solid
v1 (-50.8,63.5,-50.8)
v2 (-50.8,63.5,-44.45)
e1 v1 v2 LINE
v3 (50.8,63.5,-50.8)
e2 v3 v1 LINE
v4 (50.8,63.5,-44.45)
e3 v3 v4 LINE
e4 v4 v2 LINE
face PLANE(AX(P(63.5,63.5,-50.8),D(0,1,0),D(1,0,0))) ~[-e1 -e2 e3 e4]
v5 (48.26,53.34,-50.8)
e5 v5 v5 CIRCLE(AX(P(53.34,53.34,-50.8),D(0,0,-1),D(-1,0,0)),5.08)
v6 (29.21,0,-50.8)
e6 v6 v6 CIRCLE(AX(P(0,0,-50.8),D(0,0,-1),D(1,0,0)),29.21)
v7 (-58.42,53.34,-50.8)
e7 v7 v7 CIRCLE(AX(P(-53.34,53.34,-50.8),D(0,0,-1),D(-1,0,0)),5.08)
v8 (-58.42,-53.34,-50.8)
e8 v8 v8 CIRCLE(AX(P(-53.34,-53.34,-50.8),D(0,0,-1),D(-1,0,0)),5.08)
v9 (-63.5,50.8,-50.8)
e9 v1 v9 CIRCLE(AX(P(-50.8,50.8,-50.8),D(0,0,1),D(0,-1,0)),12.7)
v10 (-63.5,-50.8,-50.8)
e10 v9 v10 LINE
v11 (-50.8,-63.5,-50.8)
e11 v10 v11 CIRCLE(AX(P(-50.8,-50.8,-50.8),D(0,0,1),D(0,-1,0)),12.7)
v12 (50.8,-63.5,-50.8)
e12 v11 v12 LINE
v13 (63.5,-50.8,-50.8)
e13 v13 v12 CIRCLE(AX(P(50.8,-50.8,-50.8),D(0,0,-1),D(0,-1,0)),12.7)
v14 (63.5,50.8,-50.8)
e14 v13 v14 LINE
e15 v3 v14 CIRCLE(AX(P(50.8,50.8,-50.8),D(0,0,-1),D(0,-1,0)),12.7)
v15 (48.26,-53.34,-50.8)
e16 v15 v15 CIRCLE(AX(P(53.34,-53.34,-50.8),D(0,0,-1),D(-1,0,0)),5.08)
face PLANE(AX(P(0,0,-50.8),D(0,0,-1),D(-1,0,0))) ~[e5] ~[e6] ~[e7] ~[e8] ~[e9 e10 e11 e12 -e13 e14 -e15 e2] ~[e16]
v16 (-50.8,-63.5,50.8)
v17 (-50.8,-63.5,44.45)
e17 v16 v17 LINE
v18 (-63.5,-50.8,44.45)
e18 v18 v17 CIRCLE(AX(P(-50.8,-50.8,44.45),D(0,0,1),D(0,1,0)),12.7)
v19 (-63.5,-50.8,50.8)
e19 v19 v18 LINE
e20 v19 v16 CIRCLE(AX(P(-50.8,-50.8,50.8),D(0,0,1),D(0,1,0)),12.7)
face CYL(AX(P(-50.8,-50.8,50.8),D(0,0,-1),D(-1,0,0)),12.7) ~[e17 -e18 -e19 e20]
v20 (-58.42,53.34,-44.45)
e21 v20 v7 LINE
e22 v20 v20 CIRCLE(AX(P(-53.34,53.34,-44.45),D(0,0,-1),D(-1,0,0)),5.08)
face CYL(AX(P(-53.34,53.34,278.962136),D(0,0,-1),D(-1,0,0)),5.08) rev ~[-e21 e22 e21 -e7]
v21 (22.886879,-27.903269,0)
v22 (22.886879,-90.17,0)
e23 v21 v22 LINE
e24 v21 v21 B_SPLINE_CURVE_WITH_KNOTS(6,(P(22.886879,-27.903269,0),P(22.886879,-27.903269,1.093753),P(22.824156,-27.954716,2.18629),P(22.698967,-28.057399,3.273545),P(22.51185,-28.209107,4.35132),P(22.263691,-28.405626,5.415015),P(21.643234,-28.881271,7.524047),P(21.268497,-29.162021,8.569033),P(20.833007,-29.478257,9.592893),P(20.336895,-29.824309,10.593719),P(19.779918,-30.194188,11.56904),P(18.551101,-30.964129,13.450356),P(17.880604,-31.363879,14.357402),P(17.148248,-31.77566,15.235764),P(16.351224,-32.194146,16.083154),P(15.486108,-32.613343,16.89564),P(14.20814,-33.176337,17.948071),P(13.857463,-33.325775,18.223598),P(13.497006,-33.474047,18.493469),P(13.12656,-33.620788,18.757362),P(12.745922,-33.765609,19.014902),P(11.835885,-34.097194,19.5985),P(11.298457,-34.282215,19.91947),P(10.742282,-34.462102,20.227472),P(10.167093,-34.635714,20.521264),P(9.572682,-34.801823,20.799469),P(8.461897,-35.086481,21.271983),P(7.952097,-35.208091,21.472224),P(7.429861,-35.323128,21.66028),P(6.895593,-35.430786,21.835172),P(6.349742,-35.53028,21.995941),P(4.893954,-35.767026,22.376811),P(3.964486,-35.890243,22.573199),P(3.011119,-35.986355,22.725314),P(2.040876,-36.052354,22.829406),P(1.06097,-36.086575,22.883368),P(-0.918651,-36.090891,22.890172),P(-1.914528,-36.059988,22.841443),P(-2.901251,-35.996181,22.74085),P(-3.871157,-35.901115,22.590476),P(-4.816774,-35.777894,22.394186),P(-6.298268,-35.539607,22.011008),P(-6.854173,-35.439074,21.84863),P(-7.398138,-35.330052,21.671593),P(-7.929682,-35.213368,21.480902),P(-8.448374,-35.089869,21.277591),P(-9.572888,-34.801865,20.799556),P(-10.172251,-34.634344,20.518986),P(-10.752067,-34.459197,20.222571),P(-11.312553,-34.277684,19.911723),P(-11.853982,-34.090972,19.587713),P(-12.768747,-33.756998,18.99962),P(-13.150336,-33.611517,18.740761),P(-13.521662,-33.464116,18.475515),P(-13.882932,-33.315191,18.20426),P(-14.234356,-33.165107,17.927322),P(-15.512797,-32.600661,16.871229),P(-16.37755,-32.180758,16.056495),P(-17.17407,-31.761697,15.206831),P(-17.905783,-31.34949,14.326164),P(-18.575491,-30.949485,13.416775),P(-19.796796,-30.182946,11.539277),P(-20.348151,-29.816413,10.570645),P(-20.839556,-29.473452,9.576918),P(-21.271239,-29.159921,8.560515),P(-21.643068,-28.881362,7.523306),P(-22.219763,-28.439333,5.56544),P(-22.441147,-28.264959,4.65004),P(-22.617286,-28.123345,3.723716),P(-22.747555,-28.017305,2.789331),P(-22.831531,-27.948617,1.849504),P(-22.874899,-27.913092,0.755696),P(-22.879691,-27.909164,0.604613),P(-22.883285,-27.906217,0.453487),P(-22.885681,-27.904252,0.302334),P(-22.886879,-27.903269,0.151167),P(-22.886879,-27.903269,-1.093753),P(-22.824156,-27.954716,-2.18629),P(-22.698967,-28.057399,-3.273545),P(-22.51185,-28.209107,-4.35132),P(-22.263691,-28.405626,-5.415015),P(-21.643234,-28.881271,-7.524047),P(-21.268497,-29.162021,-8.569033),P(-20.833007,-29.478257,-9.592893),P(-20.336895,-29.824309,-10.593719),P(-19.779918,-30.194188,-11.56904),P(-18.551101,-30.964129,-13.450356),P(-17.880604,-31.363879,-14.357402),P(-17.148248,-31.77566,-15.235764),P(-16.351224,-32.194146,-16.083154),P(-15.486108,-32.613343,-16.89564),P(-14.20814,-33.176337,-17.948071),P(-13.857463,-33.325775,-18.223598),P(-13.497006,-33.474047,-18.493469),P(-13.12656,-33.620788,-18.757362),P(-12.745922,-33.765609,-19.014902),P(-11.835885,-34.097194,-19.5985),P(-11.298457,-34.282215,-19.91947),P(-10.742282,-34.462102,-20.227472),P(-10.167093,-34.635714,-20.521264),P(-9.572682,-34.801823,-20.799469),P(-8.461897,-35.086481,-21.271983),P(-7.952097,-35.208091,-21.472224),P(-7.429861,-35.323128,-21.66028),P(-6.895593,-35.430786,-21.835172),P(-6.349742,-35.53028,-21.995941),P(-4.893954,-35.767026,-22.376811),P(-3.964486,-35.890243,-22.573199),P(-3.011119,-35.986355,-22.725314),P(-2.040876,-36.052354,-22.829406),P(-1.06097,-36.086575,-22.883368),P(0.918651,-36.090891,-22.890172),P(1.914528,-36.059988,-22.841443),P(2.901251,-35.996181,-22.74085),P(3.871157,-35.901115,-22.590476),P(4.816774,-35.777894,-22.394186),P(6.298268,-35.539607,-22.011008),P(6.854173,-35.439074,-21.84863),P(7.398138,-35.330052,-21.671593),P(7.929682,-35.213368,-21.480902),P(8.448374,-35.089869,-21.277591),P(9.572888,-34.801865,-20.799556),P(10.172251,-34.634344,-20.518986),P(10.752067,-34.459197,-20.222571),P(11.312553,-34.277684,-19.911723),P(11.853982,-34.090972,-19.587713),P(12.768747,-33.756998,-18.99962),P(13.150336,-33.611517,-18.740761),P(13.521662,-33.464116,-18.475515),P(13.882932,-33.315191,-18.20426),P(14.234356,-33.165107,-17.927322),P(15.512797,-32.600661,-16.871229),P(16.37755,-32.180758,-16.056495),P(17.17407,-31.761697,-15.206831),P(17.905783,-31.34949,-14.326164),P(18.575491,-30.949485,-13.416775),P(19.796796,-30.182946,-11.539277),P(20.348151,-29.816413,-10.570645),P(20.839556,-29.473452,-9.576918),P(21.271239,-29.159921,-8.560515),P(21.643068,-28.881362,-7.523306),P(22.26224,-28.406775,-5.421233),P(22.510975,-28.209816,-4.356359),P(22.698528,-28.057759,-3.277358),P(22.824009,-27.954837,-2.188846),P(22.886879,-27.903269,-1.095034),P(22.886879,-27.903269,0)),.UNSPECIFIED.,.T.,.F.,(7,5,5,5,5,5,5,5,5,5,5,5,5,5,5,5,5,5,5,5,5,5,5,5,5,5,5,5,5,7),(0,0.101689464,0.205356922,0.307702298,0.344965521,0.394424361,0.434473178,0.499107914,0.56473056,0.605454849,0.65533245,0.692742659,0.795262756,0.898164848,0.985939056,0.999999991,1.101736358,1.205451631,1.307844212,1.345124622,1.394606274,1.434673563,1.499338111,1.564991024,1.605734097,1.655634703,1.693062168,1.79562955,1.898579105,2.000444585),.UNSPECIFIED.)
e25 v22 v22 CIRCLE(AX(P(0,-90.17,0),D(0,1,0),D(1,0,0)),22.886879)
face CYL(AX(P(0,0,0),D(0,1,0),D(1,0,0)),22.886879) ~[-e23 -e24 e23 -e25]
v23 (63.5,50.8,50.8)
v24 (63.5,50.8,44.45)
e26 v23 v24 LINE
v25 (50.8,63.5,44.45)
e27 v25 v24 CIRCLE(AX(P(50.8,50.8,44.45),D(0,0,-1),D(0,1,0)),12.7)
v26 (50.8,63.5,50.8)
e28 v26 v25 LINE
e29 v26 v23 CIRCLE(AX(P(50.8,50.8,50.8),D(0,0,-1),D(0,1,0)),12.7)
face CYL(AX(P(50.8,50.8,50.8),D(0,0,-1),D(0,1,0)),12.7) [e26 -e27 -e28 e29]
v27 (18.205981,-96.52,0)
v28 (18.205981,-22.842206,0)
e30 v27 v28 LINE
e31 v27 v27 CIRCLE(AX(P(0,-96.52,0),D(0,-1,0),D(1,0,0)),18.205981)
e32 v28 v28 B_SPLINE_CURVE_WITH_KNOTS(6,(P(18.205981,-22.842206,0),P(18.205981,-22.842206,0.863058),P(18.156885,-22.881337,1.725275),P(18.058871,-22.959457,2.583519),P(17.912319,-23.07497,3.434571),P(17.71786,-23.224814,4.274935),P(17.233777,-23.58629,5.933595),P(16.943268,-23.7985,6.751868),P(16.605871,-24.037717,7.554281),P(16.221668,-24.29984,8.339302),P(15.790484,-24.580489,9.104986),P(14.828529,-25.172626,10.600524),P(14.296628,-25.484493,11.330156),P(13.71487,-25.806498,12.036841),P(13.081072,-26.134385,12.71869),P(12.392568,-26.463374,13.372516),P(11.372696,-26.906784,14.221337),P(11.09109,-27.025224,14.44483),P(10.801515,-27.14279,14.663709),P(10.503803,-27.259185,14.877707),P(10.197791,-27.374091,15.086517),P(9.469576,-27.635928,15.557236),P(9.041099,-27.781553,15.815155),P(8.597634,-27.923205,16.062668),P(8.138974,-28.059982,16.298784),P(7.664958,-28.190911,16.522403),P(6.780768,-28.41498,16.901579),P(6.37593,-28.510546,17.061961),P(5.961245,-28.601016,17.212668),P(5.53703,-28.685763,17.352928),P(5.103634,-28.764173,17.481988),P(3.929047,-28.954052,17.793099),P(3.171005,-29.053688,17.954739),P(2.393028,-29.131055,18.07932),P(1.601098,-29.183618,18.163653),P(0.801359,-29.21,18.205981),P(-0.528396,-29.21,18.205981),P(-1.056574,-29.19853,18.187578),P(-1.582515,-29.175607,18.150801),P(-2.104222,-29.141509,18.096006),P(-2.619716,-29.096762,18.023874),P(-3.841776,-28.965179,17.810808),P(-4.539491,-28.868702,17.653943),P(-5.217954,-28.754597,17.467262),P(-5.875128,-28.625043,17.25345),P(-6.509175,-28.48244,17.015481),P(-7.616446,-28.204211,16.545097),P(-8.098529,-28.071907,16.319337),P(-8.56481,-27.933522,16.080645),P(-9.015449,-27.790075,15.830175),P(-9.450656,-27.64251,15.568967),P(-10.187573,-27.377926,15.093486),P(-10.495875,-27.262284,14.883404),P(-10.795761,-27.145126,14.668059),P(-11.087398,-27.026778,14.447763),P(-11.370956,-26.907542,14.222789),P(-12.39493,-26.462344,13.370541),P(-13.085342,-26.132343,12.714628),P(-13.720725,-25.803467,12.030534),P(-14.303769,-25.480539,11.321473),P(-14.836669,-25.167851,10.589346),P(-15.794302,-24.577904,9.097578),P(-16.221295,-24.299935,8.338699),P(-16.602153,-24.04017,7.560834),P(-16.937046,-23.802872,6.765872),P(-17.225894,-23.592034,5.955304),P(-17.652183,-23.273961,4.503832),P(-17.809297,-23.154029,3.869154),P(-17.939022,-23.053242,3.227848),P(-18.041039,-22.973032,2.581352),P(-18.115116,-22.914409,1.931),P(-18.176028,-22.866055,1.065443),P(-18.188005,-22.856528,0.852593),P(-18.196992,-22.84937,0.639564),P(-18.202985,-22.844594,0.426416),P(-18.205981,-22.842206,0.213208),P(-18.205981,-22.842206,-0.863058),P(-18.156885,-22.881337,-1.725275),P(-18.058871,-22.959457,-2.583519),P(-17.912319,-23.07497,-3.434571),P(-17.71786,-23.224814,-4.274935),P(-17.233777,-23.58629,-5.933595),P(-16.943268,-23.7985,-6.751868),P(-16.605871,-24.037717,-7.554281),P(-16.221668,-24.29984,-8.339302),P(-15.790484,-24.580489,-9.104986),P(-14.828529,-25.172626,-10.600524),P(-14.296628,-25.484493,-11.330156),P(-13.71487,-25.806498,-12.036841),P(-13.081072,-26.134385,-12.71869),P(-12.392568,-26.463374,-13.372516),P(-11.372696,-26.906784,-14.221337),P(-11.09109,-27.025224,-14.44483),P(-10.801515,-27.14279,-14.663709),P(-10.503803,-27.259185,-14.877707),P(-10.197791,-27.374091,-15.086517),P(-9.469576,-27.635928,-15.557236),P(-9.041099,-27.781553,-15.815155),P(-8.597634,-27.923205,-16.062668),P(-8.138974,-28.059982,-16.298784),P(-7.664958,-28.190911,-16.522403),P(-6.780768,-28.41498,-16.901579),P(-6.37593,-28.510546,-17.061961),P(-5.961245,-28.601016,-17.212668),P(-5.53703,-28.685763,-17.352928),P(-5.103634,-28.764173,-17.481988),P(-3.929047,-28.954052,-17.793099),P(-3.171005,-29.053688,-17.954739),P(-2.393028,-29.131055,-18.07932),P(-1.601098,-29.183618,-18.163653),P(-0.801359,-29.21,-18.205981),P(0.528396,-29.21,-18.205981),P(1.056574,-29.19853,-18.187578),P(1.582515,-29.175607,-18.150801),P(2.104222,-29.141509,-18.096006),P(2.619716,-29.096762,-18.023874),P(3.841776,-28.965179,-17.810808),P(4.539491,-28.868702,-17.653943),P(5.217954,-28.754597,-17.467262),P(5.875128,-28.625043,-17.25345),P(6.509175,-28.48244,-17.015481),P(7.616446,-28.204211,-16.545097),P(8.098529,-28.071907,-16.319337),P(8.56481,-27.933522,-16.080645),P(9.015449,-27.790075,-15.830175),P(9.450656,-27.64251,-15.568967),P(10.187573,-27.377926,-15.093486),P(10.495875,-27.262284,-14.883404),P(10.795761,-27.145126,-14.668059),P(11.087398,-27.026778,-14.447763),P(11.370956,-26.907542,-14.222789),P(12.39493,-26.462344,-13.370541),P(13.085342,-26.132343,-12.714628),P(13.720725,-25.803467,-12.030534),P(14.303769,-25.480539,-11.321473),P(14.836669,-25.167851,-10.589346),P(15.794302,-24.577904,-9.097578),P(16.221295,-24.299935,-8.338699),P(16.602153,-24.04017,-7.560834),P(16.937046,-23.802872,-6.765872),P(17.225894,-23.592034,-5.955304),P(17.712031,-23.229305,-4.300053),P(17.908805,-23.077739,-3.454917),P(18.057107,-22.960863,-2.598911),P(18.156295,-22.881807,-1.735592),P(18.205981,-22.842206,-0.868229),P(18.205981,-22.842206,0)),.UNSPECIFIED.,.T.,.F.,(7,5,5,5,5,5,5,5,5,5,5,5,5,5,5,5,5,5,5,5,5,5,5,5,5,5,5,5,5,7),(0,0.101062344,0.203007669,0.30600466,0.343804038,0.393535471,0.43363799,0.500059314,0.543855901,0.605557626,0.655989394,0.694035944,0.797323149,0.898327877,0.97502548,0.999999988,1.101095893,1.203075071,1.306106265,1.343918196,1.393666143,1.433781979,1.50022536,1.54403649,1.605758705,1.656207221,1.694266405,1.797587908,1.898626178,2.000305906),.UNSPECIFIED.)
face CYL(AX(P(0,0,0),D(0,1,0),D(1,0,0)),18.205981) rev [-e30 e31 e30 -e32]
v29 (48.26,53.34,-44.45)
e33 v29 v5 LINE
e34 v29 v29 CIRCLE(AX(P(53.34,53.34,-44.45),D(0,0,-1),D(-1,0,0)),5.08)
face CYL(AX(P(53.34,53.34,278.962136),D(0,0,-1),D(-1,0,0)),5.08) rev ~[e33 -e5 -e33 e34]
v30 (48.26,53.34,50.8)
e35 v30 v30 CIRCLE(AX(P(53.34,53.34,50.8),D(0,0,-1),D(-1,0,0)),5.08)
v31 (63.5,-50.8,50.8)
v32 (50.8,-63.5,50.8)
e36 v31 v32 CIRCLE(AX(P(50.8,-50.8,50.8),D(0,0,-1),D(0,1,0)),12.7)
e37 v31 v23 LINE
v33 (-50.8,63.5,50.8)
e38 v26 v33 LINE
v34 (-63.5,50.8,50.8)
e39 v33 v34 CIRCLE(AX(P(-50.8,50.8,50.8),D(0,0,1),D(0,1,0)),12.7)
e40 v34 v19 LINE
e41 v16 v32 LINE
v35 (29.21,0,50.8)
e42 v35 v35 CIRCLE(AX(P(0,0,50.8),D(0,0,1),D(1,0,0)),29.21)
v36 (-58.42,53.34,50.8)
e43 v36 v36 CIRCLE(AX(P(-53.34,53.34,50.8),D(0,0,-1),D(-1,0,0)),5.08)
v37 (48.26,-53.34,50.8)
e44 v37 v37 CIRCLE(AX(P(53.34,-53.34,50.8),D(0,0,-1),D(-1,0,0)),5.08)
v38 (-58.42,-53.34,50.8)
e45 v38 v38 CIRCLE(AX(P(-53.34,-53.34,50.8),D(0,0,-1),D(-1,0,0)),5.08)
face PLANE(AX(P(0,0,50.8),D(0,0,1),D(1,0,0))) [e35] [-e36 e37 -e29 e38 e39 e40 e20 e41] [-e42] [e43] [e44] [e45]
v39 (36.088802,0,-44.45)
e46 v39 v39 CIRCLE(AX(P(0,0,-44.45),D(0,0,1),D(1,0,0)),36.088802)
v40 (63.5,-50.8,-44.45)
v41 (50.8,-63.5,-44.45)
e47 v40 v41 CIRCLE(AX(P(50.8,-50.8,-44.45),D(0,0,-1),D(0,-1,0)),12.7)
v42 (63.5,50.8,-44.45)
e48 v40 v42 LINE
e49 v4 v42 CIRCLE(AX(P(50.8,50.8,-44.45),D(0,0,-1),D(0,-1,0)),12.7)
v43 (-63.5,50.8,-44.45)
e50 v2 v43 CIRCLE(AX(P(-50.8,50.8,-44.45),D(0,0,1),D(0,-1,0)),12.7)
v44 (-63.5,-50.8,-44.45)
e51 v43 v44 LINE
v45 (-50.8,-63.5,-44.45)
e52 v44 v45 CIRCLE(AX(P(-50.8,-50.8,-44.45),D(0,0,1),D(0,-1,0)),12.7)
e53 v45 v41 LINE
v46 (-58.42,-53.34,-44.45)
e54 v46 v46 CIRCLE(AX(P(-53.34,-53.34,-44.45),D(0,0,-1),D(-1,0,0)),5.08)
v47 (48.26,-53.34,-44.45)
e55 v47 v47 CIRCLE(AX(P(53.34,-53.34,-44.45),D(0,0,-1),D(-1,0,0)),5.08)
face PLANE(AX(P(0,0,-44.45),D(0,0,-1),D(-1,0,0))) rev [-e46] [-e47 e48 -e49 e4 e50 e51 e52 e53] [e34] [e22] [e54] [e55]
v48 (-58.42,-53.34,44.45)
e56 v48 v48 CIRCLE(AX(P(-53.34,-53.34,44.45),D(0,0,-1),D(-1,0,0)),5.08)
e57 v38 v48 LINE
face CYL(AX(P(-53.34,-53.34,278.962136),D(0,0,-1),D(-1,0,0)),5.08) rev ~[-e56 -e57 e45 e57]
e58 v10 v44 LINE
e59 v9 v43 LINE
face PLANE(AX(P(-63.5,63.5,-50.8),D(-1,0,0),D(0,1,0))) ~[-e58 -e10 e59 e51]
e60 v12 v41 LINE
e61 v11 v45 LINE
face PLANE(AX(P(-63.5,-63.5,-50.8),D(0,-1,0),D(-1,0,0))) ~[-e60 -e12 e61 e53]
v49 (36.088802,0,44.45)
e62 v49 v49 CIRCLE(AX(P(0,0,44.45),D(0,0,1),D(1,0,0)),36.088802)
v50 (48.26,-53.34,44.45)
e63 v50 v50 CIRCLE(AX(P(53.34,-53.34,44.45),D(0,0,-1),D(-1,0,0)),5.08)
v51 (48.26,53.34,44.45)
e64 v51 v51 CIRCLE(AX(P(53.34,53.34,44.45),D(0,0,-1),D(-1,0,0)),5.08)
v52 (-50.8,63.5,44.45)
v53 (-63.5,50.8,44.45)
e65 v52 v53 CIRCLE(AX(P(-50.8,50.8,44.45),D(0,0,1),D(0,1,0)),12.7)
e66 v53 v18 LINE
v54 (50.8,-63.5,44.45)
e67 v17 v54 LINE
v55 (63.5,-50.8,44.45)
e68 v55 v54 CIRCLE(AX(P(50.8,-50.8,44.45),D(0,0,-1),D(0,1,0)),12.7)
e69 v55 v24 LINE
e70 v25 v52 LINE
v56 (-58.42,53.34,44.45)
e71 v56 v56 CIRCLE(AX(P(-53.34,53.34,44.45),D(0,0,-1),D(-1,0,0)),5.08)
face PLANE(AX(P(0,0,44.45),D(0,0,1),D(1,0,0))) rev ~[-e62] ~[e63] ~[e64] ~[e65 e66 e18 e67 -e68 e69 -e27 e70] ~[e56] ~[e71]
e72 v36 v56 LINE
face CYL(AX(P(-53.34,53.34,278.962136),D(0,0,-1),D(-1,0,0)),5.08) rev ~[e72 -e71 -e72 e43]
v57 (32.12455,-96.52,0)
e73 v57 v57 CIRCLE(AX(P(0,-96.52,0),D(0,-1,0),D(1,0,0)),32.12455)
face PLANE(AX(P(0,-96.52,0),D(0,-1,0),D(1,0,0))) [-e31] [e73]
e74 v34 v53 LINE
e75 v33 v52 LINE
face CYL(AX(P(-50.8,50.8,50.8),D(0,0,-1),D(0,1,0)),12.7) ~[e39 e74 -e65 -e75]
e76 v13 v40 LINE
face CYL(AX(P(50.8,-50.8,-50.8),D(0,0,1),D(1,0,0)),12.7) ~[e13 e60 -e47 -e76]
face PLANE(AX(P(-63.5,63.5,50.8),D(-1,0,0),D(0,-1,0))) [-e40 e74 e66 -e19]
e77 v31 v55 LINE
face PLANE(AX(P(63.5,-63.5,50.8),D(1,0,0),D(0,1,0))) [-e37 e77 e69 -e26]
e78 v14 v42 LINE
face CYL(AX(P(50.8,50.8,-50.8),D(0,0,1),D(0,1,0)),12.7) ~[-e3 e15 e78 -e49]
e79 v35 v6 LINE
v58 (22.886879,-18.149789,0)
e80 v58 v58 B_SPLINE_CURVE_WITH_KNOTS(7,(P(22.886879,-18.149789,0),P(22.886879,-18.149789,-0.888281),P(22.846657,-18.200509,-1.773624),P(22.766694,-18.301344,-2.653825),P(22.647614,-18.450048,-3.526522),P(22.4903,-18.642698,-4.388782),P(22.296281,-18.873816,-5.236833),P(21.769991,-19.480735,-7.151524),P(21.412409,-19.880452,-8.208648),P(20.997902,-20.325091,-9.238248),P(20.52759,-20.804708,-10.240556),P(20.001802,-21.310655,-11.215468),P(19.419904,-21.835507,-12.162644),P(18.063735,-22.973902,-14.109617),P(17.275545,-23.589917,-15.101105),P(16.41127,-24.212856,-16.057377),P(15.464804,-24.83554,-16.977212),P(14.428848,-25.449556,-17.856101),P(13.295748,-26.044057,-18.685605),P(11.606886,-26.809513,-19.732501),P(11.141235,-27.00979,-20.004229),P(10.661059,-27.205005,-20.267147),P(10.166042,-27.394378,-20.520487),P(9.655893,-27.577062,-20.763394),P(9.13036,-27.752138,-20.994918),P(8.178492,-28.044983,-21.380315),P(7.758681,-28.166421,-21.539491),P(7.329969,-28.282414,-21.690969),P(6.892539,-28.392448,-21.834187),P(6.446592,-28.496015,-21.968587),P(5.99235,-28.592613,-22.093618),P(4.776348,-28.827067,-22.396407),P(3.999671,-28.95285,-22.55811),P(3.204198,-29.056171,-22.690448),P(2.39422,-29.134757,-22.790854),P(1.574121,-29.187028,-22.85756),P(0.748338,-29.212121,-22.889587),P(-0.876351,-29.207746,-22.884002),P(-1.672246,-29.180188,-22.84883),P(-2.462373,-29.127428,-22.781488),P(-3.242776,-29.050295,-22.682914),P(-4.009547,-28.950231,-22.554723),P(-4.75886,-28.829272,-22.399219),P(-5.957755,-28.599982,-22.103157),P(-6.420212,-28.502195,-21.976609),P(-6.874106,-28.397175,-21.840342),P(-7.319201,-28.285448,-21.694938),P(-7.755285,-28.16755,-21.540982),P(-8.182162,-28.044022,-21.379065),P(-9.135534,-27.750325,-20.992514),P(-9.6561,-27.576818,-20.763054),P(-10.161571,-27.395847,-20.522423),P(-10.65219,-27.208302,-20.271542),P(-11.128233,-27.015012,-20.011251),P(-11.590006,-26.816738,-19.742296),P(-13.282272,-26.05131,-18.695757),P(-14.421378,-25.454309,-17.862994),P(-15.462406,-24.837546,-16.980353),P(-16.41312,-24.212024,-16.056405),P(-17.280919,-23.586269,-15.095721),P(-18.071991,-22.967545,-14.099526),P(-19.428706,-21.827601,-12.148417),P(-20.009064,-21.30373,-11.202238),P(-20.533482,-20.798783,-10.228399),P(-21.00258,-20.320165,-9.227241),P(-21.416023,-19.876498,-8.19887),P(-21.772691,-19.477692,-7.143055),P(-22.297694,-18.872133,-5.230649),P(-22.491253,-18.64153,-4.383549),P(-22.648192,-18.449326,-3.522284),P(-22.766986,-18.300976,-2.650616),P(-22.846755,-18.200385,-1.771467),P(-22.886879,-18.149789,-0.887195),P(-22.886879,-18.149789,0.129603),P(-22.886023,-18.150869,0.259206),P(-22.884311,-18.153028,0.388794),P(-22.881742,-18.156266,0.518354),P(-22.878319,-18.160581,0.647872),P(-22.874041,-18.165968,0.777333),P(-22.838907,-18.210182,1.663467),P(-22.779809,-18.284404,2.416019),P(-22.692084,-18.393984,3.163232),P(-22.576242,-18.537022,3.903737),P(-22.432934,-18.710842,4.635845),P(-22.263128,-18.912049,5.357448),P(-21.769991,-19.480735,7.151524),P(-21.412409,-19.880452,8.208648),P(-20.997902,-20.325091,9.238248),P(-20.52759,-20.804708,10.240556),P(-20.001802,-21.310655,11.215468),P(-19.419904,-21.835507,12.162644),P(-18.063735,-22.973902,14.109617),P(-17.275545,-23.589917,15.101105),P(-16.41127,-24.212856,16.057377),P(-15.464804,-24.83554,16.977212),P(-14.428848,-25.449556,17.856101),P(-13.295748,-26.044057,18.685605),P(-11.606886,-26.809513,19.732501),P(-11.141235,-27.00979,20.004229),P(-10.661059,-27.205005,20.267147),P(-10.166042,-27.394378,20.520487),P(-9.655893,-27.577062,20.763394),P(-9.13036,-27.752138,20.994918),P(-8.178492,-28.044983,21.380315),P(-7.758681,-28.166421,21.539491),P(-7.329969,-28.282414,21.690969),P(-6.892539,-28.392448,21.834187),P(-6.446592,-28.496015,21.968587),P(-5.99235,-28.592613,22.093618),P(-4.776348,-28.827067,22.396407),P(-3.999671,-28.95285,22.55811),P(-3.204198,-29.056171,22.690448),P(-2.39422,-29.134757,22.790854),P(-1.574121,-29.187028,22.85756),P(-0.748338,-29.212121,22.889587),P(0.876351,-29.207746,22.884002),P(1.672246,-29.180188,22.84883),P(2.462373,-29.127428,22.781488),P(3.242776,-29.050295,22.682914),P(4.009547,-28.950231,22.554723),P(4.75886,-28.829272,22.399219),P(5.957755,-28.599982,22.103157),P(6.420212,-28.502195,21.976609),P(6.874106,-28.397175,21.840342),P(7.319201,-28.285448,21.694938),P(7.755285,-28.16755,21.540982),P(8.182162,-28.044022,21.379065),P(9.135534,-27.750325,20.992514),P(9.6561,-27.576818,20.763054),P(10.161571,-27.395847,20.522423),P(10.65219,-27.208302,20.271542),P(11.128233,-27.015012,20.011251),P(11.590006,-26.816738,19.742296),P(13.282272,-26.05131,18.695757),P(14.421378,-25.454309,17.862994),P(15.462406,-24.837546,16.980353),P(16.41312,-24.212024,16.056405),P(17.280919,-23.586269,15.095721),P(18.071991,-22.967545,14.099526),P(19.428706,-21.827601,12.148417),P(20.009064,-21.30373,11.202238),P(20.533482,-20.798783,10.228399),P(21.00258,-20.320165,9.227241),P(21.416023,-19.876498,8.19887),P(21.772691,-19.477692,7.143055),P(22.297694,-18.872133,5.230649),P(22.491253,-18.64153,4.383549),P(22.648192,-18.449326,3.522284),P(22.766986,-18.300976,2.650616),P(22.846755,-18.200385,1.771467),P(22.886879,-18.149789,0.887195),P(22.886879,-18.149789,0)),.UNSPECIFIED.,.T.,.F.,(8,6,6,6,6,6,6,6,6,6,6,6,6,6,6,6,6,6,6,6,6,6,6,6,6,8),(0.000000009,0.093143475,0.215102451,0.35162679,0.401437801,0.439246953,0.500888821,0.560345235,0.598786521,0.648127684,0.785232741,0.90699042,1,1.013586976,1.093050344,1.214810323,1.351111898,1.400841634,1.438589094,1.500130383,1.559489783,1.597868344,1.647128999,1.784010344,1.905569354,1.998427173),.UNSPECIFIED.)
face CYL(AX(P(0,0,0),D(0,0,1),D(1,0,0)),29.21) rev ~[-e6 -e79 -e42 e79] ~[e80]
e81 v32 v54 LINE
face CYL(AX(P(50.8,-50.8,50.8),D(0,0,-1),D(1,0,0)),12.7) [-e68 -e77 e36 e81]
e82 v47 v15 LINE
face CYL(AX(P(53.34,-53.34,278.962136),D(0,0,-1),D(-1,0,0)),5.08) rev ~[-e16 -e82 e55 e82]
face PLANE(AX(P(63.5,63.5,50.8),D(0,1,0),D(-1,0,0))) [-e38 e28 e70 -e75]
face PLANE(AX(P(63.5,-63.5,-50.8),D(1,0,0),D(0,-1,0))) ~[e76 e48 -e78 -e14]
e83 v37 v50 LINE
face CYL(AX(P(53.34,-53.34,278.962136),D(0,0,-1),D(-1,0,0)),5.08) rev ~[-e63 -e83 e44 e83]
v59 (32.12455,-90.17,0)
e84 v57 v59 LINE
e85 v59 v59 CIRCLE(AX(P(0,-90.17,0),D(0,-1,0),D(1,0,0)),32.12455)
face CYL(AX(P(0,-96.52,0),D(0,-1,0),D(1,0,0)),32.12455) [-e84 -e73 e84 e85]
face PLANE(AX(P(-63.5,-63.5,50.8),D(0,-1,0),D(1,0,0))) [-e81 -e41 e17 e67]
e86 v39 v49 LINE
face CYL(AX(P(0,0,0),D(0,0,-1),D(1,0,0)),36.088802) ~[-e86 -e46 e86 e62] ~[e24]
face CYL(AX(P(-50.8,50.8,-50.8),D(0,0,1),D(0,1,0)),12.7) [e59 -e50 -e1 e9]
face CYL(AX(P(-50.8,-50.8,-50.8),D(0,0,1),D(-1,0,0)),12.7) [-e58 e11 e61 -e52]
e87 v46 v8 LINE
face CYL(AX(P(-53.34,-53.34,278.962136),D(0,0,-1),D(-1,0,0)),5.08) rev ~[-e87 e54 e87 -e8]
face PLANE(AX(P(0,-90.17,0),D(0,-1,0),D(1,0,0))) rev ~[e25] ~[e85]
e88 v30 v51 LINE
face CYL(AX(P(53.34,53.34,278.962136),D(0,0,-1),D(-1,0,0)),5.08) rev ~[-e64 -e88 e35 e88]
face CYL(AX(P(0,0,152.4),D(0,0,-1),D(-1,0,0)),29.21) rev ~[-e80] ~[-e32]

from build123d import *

# Parameters (mm, degrees)
F0_R      = 36.0888023615
F0_R_2    = 29.21
F1_DEPTH  = 50.8
F2_R      = 36.0888023615
F3_DEPTH  = 6.35
F6_R      = 22.8868793225
F6_R_2    = 18.2059808832
F7_DEPTH  = 96.52
F8_DEPTH  = 76.2
F10_D     = 58.42
F10_DEPTH = 101.6
F10_TIP   = 17.5511386818
F11_R     = 32.1245501008
F11_R_2   = 22.8868793225
F11_R_3   = 18.2059808832
F12_DEPTH = 6.35
F14_D     = 10.16
F15_R     = 12.7


with BuildPart() as f1:
    # F0 (on Top) → F1 (new body)
    with BuildSketch(Plane.XY):
        Circle(F0_R)
        Circle(F0_R_2, mode=Mode.SUBTRACT)
    extrude(amount=F1_DEPTH)


with BuildPart() as f3:
    # F2 (on face) → F3 (new body)
    with BuildSketch(Plane.XY.offset(50.8)):
        Polygon((63.5, 63.5), (0, 63.5), (-63.5, 63.5), (-63.5, 0), (-63.5, -63.5), (0, -63.5), (63.5, -63.5), (63.5, 0), align=None)
        Circle(F2_R, mode=Mode.SUBTRACT)
    extrude(amount=-F3_DEPTH)

    # F4: union F1
    add(f1.part)

    # F5: F3 across plane


with BuildPart() as f3_1:
    add(f3.part)
    add(f3.part.mirror(Plane.XY))

    # F6 (on Front) → F7 (join)
    with BuildSketch(Plane.XZ):
        Circle(F6_R)
        Circle(F6_R_2, mode=Mode.SUBTRACT)
    extrude(amount=F7_DEPTH)

    # F6 (on Front) → F8 (cut)
    with BuildSketch(Plane.XZ):
        Circle(F6_R_2)
    extrude(amount=F8_DEPTH, mode=Mode.SUBTRACT)

    # F10
    with Locations(Plane.XY.offset(50.8)):
        with Locations((0, 0)):
            Hole(F10_D / 2, depth=F10_DEPTH)
            with Locations((0, 0, -(F10_DEPTH + F10_TIP / 2))):  # 118° drill point
                Cone(0, F10_D / 2, F10_TIP, mode=Mode.SUBTRACT)

    # F11 (on face) → F12 (join)
    with BuildSketch(Plane.XZ.offset(96.52)):
        Circle(F11_R)
        Circle(F11_R_2, mode=Mode.SUBTRACT)
        Circle(F11_R_2)
        Circle(F11_R_3, mode=Mode.SUBTRACT)
    extrude(amount=-F12_DEPTH)

    # F14 (through all)
    with Locations(Plane.XY.offset(50.8)):
        with Locations((53.34, 53.34), (53.34, -53.34), (-53.34, -53.34), (-53.34, 53.34)):
            Hole(F14_D / 2)

    # F15
    f15_edges = [f3_1.edges().sort_by_distance(p)[0] for p in [
        (-63.5, 63.5, -47.625),
        (-63.5, 63.5, 47.625),
        (-63.5, -63.5, -47.625),
        (-63.5, -63.5, 47.625),
        (63.5, -63.5, 47.625),
        (63.5, -63.5, -47.625),
        (63.5, 63.5, 47.625),
        (63.5, 63.5, -47.625),
    ]]
    fillet(f15_edges, radius=F15_R)


solid = f3_1.part
